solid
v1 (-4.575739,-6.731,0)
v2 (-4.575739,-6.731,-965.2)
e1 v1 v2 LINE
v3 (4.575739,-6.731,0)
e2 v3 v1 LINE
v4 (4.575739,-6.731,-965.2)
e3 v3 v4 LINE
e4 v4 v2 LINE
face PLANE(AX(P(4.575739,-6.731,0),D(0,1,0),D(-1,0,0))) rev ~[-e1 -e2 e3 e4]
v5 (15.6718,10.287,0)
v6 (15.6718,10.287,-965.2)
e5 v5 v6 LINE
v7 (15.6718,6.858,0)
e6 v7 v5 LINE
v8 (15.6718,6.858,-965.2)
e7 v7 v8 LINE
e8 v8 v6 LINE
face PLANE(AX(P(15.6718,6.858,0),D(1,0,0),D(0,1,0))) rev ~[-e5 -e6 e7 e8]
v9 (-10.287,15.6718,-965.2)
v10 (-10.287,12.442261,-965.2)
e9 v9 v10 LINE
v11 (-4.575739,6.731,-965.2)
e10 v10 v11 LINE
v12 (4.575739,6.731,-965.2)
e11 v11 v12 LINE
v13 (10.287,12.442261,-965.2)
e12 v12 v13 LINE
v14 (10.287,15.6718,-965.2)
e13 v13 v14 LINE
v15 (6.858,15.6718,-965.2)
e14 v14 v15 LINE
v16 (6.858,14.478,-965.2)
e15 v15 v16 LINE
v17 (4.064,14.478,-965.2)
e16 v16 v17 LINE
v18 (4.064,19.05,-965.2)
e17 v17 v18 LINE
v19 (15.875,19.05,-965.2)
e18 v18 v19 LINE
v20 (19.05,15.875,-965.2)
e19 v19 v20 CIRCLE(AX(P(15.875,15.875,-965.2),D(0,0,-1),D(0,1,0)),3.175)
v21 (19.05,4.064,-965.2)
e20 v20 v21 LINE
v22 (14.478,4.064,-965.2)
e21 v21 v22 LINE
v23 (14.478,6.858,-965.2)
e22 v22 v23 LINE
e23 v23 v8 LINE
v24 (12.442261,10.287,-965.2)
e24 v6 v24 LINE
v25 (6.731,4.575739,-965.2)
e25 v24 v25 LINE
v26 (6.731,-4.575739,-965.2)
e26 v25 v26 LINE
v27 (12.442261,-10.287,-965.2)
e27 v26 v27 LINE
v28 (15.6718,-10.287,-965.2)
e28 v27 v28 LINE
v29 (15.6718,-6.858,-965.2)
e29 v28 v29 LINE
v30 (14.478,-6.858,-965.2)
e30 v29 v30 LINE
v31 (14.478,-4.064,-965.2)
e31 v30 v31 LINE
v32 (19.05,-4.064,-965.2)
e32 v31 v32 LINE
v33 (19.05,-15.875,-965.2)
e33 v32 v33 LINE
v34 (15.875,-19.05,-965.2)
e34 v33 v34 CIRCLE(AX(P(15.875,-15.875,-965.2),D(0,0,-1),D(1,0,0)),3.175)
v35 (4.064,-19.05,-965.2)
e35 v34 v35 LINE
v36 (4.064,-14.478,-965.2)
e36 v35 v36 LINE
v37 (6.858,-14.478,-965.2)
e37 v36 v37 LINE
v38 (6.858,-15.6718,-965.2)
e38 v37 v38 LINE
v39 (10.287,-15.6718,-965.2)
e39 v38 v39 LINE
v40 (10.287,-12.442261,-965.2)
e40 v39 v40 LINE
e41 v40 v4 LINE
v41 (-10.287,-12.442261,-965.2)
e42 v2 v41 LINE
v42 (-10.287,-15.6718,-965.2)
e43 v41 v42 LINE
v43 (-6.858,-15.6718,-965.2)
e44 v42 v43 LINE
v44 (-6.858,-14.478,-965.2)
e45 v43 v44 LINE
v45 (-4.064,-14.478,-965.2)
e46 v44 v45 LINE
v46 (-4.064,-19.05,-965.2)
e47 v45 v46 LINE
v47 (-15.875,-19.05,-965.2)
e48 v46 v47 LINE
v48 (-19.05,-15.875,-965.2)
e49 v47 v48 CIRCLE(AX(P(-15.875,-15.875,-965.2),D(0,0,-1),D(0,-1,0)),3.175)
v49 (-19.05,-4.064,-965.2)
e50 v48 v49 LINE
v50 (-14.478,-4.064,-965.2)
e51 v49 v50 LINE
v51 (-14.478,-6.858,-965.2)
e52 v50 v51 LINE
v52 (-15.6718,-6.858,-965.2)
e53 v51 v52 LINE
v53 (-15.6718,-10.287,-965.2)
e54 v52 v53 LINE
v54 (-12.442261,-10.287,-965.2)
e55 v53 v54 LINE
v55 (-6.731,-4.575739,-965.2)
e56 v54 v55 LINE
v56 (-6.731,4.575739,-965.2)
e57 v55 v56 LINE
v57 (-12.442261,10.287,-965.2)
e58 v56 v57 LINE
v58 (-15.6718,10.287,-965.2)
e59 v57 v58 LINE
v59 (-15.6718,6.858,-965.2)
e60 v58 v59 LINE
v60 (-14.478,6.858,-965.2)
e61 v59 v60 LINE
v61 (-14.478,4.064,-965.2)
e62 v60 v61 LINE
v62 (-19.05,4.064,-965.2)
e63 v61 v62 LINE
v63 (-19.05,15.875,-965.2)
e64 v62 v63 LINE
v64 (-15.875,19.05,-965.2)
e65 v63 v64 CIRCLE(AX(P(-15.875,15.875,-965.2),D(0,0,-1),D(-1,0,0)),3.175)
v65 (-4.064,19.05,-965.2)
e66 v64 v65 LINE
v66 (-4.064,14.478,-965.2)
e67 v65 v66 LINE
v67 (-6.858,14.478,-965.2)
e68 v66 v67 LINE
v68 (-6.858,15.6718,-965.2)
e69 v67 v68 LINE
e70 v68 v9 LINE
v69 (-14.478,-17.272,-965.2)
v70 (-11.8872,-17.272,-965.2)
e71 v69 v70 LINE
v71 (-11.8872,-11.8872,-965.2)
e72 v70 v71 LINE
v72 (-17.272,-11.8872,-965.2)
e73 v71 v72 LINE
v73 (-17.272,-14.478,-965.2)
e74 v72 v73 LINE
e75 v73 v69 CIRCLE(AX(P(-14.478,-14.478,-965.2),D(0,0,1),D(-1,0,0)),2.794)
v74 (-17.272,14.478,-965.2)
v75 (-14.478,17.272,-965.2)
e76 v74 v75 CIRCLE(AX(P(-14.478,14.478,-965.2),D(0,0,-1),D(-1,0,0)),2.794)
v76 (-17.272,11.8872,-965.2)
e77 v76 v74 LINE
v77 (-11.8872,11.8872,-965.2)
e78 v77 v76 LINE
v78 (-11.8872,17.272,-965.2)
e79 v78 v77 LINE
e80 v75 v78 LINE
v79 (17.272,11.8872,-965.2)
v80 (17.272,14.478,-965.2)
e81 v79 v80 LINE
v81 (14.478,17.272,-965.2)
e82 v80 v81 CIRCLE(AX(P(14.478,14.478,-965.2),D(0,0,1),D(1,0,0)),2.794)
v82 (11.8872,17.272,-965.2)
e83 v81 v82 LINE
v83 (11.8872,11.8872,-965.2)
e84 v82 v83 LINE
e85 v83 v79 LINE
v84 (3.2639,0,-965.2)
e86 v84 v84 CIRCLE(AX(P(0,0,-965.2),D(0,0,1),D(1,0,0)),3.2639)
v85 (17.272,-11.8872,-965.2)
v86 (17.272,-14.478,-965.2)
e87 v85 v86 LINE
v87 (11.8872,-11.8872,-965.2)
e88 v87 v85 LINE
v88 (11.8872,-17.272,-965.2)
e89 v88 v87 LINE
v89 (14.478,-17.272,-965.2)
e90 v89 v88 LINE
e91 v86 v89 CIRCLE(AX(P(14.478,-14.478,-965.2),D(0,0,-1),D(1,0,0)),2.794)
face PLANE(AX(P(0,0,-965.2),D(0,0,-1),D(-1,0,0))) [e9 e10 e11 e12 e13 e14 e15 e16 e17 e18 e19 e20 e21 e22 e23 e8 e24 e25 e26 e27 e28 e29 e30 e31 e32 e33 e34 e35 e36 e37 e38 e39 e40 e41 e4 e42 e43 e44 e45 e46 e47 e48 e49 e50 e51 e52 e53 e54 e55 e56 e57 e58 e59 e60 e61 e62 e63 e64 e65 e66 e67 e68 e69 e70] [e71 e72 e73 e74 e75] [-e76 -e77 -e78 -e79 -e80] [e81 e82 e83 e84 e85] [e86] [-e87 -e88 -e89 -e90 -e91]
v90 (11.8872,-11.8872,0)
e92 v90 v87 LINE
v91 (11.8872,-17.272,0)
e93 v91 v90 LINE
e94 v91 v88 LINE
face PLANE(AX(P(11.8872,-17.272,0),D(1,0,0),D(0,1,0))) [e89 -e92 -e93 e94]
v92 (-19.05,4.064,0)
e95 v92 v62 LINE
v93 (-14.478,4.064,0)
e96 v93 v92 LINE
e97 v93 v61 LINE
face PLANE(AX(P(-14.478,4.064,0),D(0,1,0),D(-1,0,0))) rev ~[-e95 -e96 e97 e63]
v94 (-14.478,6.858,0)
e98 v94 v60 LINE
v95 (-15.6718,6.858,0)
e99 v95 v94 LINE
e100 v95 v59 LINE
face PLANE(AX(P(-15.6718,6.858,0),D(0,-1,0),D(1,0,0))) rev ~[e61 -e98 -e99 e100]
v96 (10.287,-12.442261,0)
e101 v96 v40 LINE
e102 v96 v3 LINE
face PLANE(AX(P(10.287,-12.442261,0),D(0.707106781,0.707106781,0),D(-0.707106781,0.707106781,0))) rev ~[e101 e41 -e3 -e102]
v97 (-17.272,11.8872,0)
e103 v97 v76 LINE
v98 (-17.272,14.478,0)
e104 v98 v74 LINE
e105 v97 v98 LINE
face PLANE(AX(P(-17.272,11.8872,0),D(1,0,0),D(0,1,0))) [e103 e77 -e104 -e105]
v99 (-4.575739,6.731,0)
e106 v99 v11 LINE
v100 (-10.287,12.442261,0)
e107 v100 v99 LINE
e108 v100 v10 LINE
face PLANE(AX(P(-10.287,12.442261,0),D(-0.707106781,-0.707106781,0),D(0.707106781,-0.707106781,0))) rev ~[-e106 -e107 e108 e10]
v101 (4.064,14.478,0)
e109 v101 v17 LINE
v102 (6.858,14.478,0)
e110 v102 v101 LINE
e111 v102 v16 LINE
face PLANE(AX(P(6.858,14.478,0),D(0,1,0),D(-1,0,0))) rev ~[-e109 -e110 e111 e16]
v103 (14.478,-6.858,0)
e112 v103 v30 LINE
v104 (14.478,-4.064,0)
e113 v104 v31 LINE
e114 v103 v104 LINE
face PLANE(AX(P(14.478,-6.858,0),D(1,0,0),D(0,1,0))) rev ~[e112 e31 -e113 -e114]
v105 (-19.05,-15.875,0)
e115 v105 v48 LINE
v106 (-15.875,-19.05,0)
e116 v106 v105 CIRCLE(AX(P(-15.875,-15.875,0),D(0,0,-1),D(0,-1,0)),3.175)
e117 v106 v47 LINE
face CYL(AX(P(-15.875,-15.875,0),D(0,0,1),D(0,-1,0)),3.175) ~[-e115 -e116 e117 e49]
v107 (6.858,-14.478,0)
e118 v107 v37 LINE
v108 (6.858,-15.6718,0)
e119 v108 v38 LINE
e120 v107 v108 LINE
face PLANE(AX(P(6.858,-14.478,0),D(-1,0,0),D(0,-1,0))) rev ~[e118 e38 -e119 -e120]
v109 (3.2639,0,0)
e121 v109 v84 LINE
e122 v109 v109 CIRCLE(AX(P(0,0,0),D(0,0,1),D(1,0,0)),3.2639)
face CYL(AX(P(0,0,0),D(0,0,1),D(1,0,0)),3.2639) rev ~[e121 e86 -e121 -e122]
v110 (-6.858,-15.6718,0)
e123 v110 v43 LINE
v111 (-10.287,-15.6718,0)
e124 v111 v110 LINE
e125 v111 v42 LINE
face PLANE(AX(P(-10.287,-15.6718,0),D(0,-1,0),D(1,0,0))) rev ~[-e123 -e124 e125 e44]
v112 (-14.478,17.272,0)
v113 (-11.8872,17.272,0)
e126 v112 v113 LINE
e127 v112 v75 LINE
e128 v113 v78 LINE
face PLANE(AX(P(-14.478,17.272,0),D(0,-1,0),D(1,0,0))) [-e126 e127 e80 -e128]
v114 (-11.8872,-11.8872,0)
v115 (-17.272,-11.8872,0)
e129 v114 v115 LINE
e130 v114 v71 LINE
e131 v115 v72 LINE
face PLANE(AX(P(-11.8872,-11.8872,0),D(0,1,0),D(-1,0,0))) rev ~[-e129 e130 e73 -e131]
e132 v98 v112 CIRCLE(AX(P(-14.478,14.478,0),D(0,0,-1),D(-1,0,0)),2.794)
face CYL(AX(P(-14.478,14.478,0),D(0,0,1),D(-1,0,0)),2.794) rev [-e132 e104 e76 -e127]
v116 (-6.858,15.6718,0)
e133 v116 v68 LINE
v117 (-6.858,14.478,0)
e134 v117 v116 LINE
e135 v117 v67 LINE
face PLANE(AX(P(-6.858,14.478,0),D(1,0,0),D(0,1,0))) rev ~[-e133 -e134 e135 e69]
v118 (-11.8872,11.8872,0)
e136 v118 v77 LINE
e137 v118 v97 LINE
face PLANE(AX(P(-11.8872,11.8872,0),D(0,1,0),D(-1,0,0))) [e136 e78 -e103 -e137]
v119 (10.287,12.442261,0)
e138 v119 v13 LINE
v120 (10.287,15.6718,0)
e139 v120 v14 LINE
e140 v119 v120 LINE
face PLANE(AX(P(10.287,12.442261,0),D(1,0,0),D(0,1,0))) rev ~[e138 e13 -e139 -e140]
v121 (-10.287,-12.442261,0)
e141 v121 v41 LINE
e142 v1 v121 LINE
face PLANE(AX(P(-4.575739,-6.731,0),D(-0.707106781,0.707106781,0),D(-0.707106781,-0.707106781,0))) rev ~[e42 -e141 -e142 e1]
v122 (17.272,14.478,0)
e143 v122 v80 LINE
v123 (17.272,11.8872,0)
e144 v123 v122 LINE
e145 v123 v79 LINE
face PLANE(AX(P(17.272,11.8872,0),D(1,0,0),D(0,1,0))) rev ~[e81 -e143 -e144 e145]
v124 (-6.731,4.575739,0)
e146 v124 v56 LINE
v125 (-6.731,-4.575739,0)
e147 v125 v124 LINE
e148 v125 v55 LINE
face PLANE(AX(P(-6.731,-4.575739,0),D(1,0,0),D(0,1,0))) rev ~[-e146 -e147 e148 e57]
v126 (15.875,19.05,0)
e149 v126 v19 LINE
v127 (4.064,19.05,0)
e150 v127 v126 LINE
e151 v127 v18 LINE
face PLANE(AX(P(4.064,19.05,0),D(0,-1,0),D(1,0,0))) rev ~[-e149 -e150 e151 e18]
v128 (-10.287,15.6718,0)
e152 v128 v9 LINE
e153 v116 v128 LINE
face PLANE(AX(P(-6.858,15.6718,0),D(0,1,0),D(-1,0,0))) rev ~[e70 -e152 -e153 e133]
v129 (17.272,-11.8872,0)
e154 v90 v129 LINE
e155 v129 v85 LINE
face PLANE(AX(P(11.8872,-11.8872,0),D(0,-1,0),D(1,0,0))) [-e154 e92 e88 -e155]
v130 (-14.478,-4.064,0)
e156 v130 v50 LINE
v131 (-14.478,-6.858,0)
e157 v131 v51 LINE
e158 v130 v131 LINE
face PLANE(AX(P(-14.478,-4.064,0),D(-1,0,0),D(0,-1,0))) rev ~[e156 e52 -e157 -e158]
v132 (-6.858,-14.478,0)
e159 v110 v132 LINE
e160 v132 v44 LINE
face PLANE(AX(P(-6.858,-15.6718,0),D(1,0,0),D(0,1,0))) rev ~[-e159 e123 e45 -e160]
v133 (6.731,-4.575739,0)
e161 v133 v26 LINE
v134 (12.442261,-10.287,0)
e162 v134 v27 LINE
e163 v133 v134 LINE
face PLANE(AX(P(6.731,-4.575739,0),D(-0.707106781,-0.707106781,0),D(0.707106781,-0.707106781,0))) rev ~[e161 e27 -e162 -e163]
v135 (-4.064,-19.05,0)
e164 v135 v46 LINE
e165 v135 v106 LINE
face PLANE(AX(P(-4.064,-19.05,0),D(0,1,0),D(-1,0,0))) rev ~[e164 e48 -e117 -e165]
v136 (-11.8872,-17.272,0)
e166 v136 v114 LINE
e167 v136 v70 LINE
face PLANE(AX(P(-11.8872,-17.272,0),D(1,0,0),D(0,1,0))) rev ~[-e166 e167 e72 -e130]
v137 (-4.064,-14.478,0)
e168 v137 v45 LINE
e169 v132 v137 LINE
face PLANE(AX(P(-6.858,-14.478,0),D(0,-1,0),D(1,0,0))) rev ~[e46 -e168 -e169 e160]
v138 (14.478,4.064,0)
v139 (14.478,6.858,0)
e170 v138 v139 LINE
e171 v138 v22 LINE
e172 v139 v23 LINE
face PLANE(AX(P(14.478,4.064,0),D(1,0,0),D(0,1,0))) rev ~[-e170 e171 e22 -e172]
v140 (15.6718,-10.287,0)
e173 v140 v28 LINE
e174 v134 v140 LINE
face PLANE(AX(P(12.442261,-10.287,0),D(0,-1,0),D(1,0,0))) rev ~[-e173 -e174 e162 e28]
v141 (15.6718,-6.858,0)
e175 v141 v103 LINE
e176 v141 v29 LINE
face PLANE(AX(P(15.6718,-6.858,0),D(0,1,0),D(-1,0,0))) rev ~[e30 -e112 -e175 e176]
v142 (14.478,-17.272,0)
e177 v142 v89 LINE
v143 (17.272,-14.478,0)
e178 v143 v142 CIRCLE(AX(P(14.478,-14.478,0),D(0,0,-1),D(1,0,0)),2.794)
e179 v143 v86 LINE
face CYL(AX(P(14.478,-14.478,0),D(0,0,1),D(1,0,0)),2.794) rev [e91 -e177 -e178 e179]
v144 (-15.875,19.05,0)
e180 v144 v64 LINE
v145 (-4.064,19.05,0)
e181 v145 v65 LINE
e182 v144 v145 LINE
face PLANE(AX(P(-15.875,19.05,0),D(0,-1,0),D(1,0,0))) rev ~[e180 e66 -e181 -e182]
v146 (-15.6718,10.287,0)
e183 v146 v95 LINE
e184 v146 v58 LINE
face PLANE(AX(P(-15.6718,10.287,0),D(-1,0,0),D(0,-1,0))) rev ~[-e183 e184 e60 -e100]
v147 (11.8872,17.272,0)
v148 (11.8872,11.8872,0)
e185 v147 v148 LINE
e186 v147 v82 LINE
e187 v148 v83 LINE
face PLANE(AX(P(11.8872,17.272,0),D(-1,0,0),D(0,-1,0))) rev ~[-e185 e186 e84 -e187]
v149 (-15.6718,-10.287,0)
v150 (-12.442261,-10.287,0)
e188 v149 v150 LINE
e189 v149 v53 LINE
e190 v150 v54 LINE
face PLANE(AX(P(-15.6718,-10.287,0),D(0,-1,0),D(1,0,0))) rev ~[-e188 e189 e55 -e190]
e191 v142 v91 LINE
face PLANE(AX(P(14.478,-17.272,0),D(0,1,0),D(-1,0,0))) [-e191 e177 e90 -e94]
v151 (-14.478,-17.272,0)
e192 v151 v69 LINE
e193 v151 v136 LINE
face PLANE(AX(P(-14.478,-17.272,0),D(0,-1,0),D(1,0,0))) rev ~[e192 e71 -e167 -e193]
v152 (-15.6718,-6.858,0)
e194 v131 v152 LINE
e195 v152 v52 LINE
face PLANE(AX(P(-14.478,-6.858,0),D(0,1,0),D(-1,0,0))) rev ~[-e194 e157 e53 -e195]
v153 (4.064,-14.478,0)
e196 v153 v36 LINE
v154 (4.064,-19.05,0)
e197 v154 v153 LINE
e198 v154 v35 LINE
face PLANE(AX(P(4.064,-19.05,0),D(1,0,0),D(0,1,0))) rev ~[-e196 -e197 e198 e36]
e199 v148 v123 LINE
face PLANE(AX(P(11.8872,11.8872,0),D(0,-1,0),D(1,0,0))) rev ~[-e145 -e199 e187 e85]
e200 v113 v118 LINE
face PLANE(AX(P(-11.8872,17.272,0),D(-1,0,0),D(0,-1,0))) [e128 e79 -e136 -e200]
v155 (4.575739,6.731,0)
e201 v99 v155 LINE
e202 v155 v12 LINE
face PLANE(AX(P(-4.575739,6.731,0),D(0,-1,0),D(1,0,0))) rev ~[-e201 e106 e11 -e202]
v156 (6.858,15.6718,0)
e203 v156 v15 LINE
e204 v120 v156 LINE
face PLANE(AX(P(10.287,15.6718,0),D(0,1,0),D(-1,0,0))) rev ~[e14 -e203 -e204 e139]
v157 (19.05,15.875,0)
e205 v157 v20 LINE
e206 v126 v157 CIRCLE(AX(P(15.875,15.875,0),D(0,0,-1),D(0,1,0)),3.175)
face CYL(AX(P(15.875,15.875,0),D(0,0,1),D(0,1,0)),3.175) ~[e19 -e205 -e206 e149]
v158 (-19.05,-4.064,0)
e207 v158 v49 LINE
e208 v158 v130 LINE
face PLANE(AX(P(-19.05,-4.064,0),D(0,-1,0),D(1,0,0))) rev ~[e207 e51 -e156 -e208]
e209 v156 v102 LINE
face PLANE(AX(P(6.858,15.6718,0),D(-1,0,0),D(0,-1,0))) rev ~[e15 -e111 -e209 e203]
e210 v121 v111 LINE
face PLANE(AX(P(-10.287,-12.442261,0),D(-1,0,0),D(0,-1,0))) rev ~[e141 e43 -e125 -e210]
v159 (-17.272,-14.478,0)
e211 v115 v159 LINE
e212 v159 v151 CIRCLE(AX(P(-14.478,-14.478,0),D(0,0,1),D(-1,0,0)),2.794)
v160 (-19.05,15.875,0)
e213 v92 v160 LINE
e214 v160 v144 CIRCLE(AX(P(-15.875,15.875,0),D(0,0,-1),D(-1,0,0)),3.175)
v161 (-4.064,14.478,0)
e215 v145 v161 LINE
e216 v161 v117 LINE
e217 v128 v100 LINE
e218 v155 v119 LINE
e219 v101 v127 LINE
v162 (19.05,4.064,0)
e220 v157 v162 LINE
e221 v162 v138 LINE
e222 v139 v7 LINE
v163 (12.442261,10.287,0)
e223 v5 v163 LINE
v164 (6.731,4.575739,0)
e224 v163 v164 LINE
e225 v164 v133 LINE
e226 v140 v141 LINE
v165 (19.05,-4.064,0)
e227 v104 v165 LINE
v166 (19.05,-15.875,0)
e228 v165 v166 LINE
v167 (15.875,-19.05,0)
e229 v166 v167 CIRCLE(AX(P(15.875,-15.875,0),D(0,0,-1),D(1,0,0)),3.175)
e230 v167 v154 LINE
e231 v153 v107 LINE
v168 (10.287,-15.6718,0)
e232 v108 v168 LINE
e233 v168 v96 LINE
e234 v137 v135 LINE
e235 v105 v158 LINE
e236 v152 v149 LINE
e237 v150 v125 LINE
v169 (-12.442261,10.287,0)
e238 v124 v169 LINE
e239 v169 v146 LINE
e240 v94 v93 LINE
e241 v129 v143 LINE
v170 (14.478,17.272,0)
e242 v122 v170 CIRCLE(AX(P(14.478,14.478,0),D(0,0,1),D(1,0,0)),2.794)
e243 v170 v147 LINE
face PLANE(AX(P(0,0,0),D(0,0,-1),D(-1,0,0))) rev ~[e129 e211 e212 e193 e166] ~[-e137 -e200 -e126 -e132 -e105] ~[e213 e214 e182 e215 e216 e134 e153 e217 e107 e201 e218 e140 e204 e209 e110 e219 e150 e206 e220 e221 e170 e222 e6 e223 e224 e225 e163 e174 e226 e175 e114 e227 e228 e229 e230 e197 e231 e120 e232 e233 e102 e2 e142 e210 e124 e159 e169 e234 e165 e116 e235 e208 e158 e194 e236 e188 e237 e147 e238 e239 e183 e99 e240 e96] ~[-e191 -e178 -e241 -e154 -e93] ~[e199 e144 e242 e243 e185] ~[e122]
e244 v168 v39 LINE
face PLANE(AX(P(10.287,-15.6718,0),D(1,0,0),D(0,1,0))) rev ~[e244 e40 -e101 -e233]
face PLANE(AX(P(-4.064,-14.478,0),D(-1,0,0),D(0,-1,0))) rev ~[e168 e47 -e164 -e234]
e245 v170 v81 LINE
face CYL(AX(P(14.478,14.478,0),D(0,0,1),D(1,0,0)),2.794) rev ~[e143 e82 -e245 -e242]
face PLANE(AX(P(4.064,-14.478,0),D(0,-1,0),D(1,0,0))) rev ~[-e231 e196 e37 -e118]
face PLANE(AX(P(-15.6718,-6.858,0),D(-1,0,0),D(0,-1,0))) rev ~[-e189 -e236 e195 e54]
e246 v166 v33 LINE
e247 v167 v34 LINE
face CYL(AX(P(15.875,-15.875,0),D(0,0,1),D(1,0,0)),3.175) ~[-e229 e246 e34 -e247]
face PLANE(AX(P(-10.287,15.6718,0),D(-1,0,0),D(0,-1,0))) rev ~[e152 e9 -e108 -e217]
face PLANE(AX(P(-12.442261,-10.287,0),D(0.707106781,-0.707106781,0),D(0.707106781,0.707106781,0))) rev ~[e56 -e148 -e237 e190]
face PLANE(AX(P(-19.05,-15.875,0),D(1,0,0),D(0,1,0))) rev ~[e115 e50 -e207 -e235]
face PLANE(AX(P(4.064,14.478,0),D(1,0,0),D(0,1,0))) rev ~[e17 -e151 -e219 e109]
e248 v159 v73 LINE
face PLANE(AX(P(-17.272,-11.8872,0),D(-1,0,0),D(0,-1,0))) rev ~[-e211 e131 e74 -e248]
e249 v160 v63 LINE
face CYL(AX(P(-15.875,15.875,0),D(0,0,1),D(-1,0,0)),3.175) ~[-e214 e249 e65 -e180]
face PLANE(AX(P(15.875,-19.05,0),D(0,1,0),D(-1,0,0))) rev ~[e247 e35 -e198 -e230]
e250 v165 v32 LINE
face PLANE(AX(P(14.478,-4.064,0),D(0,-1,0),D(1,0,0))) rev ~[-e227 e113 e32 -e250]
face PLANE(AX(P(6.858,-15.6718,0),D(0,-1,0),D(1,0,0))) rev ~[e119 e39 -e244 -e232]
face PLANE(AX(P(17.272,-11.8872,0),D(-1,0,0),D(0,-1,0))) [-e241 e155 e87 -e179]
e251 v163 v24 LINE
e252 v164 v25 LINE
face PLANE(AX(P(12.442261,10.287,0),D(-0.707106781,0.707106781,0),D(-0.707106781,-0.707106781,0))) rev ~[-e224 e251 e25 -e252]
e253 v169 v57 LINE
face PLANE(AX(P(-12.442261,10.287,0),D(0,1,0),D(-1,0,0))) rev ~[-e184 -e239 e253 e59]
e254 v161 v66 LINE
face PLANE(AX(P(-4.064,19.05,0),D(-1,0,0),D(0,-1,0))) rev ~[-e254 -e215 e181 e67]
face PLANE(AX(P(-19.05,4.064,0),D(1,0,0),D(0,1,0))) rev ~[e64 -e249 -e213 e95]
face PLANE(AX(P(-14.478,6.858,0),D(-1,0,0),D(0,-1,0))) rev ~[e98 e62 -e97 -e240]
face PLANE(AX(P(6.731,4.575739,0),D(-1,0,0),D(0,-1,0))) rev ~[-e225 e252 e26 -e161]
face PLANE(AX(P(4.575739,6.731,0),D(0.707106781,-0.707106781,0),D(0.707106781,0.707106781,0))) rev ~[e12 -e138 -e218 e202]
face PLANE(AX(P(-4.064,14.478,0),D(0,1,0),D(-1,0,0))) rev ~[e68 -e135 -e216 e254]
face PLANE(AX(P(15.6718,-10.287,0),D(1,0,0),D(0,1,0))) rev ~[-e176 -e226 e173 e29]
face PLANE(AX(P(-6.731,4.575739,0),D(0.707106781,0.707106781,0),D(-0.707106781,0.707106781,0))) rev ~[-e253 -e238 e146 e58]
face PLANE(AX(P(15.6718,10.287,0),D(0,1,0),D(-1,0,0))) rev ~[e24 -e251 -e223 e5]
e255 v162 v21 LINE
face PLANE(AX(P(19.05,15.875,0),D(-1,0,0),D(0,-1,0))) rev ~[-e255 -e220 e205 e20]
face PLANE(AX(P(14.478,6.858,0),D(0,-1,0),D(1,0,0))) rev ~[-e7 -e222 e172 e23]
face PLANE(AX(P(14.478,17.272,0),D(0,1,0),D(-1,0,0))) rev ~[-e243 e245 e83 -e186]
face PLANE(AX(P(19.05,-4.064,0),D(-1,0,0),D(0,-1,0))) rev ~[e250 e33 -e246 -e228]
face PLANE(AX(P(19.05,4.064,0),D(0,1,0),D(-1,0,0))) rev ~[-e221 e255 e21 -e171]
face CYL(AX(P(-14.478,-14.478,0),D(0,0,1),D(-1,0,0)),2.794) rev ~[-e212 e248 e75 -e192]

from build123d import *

# Parameters (mm, degrees)
SKETCH1_R      = 3.2639
FINALCUT_DEPTH = 965.2


with BuildPart() as part:
    # Sketch1 → FinalCut (new body)
    with BuildSketch(Plane.XY):
        with BuildLine():
            Line((-6.731, 0), (-6.731, 4.575738531))
            Line((-6.731, 4.575738531), (-12.442261469, 10.287))
            Line((-12.442261469, 10.287), (-15.6718, 10.287))
            Line((-15.6718, 10.287), (-15.6718, 6.858))
            Line((-15.6718, 6.858), (-14.478, 6.858))
            Line((-14.478, 6.858), (-14.478, 4.064))
            Line((-14.478, 4.064), (-19.05, 4.064))
            Line((-19.05, 4.064), (-19.05, 15.875))
            ThreePointArc((-19.05, 15.875), (-18.12006403, 18.12006403), (-15.875, 19.05))
            Line((-15.875, 19.05), (-4.064, 19.05))
            Line((-4.064, 19.05), (-4.064, 14.478))
            Line((-4.064, 14.478), (-6.858, 14.478))
            Line((-6.858, 14.478), (-6.858, 15.6718))
            Line((-6.858, 15.6718), (-10.287, 15.6718))
            Line((-10.287, 15.6718), (-10.287, 12.442261469))
            Line((-10.287, 12.442261469), (-4.575738531, 6.731))
            Line((-4.575738531, 6.731), (0, 6.731))
            Line((0, 6.731), (4.575738531, 6.731))
            Line((4.575738531, 6.731), (10.287, 12.442261469))
            Line((10.287, 12.442261469), (10.287, 15.6718))
            Line((10.287, 15.6718), (6.858, 15.6718))
            Line((6.858, 15.6718), (6.858, 14.478))
            Line((6.858, 14.478), (4.064, 14.478))
            Line((4.064, 14.478), (4.064, 19.05))
            Line((4.064, 19.05), (15.875, 19.05))
            ThreePointArc((15.875, 19.05), (18.12006403, 18.12006403), (19.05, 15.875))
            Line((19.05, 15.875), (19.05, 4.064))
            Line((19.05, 4.064), (14.478, 4.064))
            Line((14.478, 4.064), (14.478, 6.858))
            Line((14.478, 6.858), (15.6718, 6.858))
            Line((15.6718, 6.858), (15.6718, 10.287))
            Line((15.6718, 10.287), (12.442261469, 10.287))
            Line((12.442261469, 10.287), (6.731, 4.575738531))
            Line((6.731, 4.575738531), (6.731, 0))
            Line((6.731, 0), (6.731, -4.575738531))
            Line((6.731, -4.575738531), (12.442261469, -10.287))
            Line((12.442261469, -10.287), (15.6718, -10.287))
            Line((15.6718, -10.287), (15.6718, -6.858))
            Line((15.6718, -6.858), (14.478, -6.858))
            Line((14.478, -6.858), (14.478, -4.064))
            Line((14.478, -4.064), (19.05, -4.064))
            Line((19.05, -4.064), (19.05, -15.875))
            ThreePointArc((19.05, -15.875), (18.12006403, -18.12006403), (15.875, -19.05))
            Line((15.875, -19.05), (4.064, -19.05))
            Line((4.064, -19.05), (4.064, -14.478))
            Line((4.064, -14.478), (6.858, -14.478))
            Line((6.858, -14.478), (6.858, -15.6718))
            Line((6.858, -15.6718), (10.287, -15.6718))
            Line((10.287, -15.6718), (10.287, -12.442261469))
            Line((10.287, -12.442261469), (4.575738531, -6.731))
            Line((4.575738531, -6.731), (0, -6.731))
            Line((0, -6.731), (-4.575738531, -6.731))
            Line((-4.575738531, -6.731), (-10.287, -12.442261469))
            Line((-10.287, -12.442261469), (-10.287, -15.6718))
            Line((-10.287, -15.6718), (-6.858, -15.6718))
            Line((-6.858, -15.6718), (-6.858, -14.478))
            Line((-6.858, -14.478), (-4.064, -14.478))
            Line((-4.064, -14.478), (-4.064, -19.05))
            Line((-4.064, -19.05), (-15.875, -19.05))
            ThreePointArc((-15.875, -19.05), (-18.12006403, -18.12006403), (-19.05, -15.875))
            Line((-19.05, -15.875), (-19.05, -4.064))
            Line((-19.05, -4.064), (-14.478, -4.064))
            Line((-14.478, -4.064), (-14.478, -6.858))
            Line((-14.478, -6.858), (-15.6718, -6.858))
            Line((-15.6718, -6.858), (-15.6718, -10.287))
            Line((-15.6718, -10.287), (-12.442261469, -10.287))
            Line((-12.442261469, -10.287), (-6.731, -4.575738531))
            Line((-6.731, -4.575738531), (-6.731, 0))
        make_face()
        Circle(SKETCH1_R, mode=Mode.SUBTRACT)
        with BuildLine():
            Line((17.272, 11.8872), (17.272, 14.478))
            ThreePointArc((17.272, 14.478), (16.453656347, 16.453656347), (14.478, 17.272))
            Line((14.478, 17.272), (11.8872, 17.272))
            Line((11.8872, 17.272), (11.8872, 11.8872))
            Line((11.8872, 11.8872), (17.272, 11.8872))
        make_face(mode=Mode.SUBTRACT)
        with BuildLine():
            Line((11.8872, -11.8872), (17.272, -11.8872))
            Line((17.272, -11.8872), (17.272, -14.478))
            ThreePointArc((17.272, -14.478), (16.453656347, -16.453656347), (14.478, -17.272))
            Line((14.478, -17.272), (11.8872, -17.272))
            Line((11.8872, -17.272), (11.8872, -11.8872))
        make_face(mode=Mode.SUBTRACT)
        with BuildLine():
            Line((-17.272, -11.8872), (-17.272, -14.478))
            ThreePointArc((-17.272, -14.478), (-16.453656347, -16.453656347), (-14.478, -17.272))
            Line((-14.478, -17.272), (-11.8872, -17.272))
            Line((-11.8872, -17.272), (-11.8872, -11.8872))
            Line((-11.8872, -11.8872), (-17.272, -11.8872))
        make_face(mode=Mode.SUBTRACT)
        with BuildLine():
            Line((-11.8872, 11.8872), (-17.272, 11.8872))
            Line((-17.272, 11.8872), (-17.272, 14.478))
            ThreePointArc((-17.272, 14.478), (-16.453656347, 16.453656347), (-14.478, 17.272))
            Line((-14.478, 17.272), (-11.8872, 17.272))
            Line((-11.8872, 17.272), (-11.8872, 11.8872))
        make_face(mode=Mode.SUBTRACT)
    extrude(amount=-FINALCUT_DEPTH)


solid = part.part
